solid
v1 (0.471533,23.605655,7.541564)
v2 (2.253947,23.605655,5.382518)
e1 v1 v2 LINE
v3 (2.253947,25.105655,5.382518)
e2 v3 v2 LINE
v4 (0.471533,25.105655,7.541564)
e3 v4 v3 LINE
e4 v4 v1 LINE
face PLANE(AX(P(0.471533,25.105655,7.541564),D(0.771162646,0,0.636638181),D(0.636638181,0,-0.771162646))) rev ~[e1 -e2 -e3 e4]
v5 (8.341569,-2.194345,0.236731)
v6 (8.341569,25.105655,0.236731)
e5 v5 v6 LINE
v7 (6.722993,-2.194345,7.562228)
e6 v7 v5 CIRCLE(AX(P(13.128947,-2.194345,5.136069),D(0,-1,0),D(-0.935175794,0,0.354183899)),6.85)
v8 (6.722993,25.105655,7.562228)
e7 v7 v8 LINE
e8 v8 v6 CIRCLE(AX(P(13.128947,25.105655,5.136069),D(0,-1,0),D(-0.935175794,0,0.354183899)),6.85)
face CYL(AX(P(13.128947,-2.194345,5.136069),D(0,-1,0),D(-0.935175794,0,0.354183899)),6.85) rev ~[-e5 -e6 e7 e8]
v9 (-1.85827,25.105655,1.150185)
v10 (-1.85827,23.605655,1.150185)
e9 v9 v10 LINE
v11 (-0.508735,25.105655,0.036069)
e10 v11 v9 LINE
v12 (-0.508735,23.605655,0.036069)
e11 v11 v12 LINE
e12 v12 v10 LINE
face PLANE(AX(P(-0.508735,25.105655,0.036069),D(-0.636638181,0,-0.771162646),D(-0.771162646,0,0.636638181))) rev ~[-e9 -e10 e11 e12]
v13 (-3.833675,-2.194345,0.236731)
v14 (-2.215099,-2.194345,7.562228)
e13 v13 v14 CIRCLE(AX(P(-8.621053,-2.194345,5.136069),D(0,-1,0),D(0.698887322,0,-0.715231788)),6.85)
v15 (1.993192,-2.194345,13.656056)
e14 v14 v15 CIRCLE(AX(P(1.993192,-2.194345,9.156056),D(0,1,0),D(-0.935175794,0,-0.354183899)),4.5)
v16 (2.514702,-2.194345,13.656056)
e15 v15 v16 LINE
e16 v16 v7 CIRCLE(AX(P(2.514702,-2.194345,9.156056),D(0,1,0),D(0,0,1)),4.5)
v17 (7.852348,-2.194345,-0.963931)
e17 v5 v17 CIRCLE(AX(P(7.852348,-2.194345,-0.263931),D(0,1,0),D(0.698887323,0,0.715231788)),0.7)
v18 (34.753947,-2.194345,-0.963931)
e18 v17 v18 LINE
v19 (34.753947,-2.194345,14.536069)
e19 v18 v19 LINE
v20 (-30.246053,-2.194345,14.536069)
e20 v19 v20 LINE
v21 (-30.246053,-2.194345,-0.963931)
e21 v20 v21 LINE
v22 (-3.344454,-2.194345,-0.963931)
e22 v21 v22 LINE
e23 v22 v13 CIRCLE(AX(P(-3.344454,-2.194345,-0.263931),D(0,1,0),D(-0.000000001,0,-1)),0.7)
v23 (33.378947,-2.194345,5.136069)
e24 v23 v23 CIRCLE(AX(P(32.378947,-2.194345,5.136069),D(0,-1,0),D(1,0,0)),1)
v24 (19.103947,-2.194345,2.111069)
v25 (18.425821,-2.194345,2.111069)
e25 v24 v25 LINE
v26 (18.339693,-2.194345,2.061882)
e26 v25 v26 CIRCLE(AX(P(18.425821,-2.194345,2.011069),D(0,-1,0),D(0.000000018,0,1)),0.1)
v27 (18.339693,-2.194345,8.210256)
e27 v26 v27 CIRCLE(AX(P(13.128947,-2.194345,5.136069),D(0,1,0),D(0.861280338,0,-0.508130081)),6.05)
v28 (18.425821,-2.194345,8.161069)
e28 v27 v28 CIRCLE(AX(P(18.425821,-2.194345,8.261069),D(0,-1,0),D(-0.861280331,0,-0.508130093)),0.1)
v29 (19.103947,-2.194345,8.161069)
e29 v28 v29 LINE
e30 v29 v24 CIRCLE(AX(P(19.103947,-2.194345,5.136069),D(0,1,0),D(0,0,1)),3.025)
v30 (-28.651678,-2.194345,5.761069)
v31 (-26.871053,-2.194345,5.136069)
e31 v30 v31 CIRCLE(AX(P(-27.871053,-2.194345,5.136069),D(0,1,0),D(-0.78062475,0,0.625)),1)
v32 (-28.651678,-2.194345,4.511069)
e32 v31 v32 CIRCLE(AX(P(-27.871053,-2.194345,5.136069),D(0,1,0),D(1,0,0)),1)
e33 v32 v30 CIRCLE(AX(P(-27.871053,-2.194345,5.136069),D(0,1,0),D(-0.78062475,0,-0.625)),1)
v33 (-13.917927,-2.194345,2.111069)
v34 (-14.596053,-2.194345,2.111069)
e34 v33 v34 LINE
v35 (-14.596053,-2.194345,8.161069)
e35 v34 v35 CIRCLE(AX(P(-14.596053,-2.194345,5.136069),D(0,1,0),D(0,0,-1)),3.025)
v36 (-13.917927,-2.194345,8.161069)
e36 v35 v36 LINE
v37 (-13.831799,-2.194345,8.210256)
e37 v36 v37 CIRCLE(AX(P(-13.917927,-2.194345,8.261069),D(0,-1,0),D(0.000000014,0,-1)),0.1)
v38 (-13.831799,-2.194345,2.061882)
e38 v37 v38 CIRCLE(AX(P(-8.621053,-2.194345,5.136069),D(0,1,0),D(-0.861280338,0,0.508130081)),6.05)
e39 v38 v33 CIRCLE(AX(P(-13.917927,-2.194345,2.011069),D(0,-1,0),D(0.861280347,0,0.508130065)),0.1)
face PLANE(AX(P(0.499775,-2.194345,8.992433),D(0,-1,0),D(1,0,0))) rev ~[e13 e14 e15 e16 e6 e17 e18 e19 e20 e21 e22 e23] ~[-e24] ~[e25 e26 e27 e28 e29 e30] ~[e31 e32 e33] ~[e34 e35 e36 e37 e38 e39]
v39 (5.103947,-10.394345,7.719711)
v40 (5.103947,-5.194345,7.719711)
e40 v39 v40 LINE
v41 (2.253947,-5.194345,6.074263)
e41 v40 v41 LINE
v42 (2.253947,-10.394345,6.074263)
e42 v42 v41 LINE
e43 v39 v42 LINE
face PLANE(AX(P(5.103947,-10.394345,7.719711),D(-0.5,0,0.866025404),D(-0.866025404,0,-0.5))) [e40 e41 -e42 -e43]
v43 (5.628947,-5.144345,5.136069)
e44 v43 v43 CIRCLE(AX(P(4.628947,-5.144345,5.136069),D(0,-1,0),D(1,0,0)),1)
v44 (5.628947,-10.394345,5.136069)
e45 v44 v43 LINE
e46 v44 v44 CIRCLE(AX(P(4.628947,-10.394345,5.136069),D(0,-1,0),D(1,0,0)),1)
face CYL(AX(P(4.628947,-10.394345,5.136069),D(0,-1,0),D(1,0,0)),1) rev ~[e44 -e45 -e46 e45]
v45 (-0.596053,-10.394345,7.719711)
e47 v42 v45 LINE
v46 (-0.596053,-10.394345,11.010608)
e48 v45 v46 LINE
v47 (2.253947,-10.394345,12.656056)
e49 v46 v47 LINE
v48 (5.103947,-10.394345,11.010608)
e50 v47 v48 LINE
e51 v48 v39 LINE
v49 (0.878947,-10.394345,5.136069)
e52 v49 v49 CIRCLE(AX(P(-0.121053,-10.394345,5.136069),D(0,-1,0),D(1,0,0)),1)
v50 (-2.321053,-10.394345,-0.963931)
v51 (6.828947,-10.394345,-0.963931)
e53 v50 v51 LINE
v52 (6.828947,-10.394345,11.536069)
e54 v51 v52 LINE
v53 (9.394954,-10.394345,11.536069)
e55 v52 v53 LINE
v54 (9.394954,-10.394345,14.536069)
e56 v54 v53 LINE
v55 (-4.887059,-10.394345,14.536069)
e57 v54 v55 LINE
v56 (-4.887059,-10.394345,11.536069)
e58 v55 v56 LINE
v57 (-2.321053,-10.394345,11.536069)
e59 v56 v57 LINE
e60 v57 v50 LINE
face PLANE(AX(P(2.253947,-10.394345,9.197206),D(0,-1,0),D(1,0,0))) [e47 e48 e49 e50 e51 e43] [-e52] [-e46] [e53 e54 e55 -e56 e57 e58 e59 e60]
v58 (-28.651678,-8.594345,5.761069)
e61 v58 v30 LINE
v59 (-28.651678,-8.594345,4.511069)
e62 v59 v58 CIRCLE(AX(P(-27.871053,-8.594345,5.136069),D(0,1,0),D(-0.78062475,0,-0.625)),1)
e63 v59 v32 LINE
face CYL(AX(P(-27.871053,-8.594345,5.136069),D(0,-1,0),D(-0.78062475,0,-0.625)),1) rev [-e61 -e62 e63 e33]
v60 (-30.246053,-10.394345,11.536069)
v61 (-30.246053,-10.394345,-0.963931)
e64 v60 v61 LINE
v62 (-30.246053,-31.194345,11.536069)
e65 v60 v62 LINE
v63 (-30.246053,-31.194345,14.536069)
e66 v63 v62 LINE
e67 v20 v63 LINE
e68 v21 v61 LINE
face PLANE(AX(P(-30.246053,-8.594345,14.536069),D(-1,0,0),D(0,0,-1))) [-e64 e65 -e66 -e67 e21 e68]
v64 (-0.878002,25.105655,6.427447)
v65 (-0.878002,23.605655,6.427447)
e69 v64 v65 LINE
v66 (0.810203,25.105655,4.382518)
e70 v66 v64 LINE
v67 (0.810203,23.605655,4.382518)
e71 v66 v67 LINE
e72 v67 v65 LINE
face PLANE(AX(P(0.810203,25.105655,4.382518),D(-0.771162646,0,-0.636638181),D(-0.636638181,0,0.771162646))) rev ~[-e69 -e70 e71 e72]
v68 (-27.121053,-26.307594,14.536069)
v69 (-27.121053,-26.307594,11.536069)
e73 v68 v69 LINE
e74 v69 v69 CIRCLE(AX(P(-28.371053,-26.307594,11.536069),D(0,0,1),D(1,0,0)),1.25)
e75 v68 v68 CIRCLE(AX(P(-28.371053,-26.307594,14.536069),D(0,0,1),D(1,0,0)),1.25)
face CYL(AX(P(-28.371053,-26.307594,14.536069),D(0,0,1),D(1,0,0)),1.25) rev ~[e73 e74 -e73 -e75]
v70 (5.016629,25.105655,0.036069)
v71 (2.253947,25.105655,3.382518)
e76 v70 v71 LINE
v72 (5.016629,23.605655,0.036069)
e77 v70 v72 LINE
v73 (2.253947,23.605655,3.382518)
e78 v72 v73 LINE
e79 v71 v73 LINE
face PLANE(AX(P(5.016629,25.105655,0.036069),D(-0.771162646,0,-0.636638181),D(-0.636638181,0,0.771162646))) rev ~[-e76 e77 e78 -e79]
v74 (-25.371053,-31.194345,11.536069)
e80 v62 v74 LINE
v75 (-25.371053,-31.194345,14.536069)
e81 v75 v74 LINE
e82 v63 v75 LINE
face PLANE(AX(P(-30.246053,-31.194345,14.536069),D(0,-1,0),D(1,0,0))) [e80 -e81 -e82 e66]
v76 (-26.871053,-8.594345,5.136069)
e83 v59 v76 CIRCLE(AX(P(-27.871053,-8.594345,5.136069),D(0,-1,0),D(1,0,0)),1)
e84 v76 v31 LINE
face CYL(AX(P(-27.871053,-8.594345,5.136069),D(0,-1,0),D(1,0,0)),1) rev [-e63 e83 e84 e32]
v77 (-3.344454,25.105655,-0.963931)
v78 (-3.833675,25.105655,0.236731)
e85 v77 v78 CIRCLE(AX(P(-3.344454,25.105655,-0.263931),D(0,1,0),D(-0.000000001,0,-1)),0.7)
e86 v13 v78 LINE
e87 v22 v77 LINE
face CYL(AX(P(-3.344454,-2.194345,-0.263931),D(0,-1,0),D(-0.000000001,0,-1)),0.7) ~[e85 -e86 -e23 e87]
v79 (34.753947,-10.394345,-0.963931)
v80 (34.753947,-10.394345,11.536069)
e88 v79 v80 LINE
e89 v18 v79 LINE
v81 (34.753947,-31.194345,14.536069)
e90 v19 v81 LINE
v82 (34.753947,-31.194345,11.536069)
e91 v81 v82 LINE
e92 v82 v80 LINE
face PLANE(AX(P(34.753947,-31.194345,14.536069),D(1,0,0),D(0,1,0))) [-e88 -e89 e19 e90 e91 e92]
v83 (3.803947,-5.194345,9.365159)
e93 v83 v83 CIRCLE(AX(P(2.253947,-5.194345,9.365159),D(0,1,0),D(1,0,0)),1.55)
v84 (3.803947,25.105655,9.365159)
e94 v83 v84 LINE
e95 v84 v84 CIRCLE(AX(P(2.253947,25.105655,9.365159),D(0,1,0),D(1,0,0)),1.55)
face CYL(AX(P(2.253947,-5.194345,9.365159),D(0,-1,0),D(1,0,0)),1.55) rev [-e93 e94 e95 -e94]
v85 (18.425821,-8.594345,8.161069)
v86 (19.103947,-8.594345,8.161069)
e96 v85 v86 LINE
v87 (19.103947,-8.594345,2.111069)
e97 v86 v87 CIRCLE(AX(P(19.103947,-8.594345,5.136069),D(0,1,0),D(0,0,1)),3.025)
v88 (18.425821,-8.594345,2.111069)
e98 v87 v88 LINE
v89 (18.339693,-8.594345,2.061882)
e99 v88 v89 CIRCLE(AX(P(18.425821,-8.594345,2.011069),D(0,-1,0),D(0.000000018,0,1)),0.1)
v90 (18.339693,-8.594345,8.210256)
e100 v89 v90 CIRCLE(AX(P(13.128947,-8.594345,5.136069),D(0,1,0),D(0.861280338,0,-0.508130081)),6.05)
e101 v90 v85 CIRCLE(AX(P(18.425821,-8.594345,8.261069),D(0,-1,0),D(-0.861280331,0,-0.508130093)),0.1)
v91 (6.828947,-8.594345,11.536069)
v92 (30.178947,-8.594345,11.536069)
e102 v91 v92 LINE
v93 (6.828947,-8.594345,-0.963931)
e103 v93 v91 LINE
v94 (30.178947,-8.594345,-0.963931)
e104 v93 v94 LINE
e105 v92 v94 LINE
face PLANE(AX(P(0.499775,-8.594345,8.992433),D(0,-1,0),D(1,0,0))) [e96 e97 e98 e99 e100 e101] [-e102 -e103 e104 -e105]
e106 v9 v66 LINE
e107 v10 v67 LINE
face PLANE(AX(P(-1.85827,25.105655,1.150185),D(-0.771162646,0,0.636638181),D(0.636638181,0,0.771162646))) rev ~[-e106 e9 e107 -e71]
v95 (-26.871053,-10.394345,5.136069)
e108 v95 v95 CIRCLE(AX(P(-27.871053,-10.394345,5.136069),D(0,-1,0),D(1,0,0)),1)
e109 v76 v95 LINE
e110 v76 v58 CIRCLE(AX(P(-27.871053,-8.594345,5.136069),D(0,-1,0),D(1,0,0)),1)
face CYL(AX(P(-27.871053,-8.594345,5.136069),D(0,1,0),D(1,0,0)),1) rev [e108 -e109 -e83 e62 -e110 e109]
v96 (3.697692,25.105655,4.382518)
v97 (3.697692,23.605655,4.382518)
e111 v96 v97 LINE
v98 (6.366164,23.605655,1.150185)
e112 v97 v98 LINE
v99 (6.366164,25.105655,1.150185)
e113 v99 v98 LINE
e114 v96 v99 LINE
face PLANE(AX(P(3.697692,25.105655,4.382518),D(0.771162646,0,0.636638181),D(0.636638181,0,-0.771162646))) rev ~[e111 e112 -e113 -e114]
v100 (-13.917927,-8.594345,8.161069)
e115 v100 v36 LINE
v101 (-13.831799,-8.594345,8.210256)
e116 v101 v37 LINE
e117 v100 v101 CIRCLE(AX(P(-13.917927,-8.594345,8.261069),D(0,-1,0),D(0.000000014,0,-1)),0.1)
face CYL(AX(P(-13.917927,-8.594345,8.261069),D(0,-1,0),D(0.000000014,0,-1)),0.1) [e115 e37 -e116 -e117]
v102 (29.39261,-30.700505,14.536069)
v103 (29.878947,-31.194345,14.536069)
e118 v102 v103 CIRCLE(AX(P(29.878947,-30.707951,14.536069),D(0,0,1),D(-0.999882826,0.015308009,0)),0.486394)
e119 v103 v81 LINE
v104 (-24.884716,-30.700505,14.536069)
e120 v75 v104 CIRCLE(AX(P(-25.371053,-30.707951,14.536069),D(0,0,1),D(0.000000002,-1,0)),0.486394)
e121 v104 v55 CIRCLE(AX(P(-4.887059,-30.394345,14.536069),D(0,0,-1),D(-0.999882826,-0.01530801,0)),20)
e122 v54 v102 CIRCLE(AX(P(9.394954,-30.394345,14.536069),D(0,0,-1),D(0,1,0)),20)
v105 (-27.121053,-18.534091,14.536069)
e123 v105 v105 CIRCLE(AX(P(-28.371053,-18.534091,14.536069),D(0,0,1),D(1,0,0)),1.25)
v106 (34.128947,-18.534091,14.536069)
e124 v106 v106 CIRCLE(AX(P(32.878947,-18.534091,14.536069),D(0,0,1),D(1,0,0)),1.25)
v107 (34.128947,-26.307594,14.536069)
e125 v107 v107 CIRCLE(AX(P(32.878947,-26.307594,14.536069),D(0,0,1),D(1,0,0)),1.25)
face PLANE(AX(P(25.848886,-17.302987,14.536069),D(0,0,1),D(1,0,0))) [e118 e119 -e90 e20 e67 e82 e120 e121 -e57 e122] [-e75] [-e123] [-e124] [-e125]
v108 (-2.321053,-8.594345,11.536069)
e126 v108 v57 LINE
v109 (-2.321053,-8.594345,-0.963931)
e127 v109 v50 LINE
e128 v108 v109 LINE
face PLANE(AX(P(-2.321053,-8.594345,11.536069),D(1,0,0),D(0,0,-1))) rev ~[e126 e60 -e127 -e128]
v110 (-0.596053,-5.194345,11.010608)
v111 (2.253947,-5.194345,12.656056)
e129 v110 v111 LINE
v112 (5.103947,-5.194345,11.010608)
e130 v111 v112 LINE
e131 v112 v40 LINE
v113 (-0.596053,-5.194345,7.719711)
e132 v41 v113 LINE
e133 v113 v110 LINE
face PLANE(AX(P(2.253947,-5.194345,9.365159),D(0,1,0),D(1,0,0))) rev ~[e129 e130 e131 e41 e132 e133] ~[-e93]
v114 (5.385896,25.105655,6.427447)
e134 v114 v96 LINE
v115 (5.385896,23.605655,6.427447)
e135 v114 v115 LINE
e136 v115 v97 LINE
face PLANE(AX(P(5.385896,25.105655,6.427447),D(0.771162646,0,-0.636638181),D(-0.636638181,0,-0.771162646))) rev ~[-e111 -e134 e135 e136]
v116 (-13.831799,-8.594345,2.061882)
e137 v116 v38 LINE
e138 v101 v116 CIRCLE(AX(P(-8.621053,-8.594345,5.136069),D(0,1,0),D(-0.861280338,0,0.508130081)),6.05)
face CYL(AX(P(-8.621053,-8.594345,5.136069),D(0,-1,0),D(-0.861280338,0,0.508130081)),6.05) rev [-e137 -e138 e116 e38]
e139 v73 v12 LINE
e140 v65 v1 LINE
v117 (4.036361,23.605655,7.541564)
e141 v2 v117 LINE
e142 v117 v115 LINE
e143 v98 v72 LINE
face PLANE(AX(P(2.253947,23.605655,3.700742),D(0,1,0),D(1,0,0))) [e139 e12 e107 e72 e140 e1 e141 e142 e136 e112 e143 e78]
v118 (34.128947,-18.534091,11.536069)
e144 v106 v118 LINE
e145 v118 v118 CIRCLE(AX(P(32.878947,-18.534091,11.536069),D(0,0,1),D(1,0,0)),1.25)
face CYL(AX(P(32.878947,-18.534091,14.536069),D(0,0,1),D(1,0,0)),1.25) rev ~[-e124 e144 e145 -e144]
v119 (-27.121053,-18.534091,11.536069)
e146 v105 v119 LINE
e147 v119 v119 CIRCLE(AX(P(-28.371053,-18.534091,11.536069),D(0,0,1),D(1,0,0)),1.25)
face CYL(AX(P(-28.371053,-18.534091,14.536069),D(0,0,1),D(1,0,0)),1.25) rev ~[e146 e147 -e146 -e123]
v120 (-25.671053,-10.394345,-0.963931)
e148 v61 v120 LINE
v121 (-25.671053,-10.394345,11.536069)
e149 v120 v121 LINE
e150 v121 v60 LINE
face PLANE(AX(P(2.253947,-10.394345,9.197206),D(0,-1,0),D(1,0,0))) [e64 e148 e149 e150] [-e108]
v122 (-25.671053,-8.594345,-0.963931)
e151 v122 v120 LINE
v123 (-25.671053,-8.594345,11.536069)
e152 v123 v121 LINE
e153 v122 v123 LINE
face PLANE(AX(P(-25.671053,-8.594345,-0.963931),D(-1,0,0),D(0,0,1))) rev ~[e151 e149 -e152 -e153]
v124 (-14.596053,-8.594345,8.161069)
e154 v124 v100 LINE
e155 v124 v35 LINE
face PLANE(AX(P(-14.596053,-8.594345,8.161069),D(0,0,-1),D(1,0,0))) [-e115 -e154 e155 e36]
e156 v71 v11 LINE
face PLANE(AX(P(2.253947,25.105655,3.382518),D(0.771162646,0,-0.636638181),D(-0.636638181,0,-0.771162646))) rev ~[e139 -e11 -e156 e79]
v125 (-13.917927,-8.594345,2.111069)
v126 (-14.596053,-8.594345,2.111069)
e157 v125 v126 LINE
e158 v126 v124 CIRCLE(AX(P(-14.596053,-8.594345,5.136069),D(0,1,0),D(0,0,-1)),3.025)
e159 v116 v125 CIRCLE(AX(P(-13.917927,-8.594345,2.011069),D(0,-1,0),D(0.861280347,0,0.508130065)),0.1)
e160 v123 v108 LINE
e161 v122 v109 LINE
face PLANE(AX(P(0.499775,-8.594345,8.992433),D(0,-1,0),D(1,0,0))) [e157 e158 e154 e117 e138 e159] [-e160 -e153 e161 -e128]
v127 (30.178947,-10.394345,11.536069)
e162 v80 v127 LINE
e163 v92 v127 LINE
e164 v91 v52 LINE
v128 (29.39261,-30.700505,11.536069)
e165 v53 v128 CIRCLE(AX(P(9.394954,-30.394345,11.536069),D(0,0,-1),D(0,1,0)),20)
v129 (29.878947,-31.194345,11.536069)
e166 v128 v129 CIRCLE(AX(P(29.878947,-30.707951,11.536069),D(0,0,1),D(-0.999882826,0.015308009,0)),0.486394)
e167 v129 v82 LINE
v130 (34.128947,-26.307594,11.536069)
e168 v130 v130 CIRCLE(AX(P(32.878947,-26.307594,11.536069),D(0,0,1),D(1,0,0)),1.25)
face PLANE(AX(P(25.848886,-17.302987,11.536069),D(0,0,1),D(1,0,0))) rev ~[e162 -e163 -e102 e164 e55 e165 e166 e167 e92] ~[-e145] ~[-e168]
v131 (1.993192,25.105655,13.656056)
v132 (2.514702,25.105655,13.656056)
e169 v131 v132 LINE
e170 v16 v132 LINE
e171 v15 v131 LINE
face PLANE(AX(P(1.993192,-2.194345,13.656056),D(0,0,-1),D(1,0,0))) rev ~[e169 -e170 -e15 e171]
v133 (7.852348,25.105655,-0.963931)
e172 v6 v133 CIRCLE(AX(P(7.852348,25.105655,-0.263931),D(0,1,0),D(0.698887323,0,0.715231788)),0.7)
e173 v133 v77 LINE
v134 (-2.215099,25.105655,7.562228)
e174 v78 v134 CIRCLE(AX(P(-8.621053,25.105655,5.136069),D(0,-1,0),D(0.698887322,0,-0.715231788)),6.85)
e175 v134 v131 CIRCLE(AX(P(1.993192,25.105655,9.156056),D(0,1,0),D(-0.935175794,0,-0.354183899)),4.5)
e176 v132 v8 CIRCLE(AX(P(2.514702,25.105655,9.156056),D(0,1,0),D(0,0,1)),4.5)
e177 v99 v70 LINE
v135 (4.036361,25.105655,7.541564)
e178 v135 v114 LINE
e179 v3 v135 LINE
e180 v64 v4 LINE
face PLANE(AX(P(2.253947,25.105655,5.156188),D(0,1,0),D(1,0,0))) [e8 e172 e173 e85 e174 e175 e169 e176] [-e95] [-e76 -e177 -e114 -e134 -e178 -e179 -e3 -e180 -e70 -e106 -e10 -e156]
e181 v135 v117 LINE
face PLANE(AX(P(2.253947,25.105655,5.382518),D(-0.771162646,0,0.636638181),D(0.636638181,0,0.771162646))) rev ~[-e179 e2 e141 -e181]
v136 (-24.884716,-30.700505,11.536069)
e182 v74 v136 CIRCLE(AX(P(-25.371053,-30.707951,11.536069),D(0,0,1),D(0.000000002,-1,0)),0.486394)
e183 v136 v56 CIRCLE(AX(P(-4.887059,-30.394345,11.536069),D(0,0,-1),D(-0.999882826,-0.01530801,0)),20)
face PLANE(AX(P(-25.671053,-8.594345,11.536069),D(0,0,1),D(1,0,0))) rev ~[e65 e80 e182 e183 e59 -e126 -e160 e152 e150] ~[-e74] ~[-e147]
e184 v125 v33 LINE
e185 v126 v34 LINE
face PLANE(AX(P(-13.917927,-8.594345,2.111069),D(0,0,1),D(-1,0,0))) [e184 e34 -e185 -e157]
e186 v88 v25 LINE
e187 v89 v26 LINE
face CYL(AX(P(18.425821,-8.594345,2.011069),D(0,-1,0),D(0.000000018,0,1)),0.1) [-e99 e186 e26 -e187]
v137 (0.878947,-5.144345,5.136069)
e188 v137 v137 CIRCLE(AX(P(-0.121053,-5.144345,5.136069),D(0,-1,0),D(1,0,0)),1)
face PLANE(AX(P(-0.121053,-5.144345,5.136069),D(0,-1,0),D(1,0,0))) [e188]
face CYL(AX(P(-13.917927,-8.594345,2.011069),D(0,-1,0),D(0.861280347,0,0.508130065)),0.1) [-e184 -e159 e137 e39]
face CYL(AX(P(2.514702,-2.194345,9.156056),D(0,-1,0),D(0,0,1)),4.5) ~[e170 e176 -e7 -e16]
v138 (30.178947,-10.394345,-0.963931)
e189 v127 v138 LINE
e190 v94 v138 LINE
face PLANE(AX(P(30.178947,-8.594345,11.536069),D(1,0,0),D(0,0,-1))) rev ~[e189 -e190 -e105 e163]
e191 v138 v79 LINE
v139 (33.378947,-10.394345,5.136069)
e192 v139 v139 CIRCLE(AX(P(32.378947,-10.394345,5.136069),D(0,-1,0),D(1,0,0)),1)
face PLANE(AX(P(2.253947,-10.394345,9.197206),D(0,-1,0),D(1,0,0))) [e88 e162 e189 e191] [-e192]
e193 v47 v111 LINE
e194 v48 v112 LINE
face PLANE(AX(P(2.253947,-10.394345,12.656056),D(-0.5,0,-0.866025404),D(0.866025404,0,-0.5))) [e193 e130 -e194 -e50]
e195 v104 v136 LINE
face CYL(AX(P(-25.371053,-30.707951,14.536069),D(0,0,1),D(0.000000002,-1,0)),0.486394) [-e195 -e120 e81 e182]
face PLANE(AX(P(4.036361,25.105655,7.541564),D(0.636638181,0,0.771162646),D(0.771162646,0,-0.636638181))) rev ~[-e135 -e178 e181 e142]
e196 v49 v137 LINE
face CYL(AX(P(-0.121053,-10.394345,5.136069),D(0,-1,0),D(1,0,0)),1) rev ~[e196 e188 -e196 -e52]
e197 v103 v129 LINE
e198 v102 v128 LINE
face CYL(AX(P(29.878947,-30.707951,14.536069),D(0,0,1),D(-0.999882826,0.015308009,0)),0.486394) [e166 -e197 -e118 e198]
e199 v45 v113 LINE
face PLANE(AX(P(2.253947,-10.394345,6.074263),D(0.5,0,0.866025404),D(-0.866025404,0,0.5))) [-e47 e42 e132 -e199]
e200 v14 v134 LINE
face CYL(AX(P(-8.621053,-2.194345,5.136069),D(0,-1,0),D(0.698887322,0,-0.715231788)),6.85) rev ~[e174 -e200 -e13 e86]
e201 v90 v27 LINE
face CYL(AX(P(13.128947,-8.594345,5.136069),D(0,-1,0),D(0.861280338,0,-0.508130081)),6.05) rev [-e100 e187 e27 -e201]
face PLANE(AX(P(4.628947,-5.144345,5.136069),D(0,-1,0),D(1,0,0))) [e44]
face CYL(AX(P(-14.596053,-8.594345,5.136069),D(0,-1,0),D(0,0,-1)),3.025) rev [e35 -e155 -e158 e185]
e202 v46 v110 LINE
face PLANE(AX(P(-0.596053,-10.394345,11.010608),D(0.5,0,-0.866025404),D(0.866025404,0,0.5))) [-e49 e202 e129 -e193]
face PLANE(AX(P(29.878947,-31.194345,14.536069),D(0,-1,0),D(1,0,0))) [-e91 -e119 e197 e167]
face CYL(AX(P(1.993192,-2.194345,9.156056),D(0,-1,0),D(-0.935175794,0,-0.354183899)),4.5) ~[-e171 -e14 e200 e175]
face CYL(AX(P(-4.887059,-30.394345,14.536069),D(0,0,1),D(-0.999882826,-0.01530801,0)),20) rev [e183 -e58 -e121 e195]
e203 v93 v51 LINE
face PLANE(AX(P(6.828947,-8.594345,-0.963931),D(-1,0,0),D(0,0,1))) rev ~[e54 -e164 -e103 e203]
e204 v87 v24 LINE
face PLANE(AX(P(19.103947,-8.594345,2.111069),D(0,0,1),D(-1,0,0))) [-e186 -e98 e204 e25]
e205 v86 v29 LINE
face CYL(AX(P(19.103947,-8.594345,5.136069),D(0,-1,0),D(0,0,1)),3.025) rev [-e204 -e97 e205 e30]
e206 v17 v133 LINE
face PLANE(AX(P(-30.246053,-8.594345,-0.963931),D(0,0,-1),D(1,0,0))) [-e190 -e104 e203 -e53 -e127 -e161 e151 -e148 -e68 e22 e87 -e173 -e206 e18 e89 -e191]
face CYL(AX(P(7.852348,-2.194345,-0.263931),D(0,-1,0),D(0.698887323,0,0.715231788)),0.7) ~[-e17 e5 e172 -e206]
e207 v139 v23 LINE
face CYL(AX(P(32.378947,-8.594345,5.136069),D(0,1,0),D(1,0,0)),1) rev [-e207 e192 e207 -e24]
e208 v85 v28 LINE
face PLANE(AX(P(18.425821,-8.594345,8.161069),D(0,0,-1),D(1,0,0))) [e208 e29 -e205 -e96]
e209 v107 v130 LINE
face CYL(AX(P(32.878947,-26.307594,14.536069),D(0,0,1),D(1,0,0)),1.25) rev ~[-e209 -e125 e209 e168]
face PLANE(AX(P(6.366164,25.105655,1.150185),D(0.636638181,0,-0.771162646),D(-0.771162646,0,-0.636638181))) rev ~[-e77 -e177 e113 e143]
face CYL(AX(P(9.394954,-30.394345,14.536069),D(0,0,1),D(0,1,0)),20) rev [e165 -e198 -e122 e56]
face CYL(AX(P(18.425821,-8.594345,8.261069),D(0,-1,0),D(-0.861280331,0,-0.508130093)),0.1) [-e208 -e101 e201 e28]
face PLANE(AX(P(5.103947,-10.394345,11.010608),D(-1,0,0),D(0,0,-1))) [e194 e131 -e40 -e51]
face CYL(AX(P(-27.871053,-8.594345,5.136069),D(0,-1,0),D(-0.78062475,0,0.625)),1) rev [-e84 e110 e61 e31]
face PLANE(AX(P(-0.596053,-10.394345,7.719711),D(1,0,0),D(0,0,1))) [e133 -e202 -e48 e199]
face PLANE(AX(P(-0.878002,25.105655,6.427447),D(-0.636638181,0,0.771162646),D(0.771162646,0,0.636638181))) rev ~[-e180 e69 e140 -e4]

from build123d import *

# Parameters (mm, degrees)
BOSS_EXTRUDE1_START = -1.8
SKETCH1_R           = 1
BOSS_EXTRUDE1_DEPTH = 1.8
BOSS_EXTRUDE2_START = -1.8
SKETCH1_5_R         = 1
SKETCH1_5_W         = 23.35
SKETCH1_5_H         = 12.5
SKETCH1_5_W_2       = 0.2
SKETCH1_5_H_2       = 11.7
BOSS_EXTRUDE2_DEPTH = 6.4
SKETCH1_6_R         = 1
CUT_EXTRUDE9_DEPTH  = 5.25
SKETCH6_R           = 1.25
BOSS_EXTRUDE4_DEPTH = 3
CUT_EXTRUDE6_START  = -8.2
SKETCH4_6_R         = 1.55
CUT_EXTRUDE6_DEPTH  = 5.2
BOSS_EXTRUDE3_DEPTH = 27.3
CUT_EXTRUDE7_START  = -3
SKETCH4_7_R         = 1.55
CUT_EXTRUDE7_DEPTH  = 30.3
CUT_EXTRUDE8_DEPTH  = 1.5


with BuildPart() as part:
    # Sketch1 → Boss-Extrude1 (new body)
    with BuildSketch(Plane.XZ.offset(10.394345176).offset(BOSS_EXTRUDE1_START)):
        Polygon((-30.246052812, 14.536068682), (-30.246052812, -0.963931318), (-25.671052812, -0.963931318), (-25.671052812, 11.536068682), (-2.321052812, 11.536068682), (-2.321052812, -0.963931318), (6.828947188, -0.963931318), (6.828947188, 11.536068682), (30.178947188, 11.536068682), (30.178947188, -0.963931318), (34.753947188, -0.963931318), (34.753947188, 14.536068682), align=None)
        with Locations((-27.871052812, 5.136068682)):
            Circle(SKETCH1_R, mode=Mode.SUBTRACT)
        with Locations((32.378947188, 5.136068682)):
            Circle(SKETCH1_R, mode=Mode.SUBTRACT)
    extrude(amount=BOSS_EXTRUDE1_DEPTH)

    # Sketch1_5 → Boss-Extrude2 (add)
    with BuildSketch(Plane.XZ.offset(10.394345176).offset(BOSS_EXTRUDE2_START)):
        with BuildLine():
            Line((-30.246052812, 14.536068682), (-30.246052812, -0.963931318))
            Line((-30.246052812, -0.963931318), (-25.671052812, -0.963931318))
            Line((-25.671052812, -0.963931318), (-25.671052812, -0.713931318))
            Line((-25.671052812, -0.713931318), (-29.746052812, -0.713931318))
            ThreePointArc((-29.746052812, -0.713931318), (-29.922829508, -0.640708013), (-29.996052812, -0.463931318))
            Line((-29.996052812, -0.463931318), (-29.996052812, 4.511068682))
            Line((-29.996052812, 4.511068682), (-28.651677562, 4.511068682))
            ThreePointArc((-28.651677562, 4.511068682), (-28.871052812, 5.136068682), (-28.651677562, 5.761068682))
            Line((-28.651677562, 5.761068682), (-29.996052812, 5.761068682))
            Line((-29.996052812, 5.761068682), (-29.996052812, 10.736068682))
            ThreePointArc((-29.996052812, 10.736068682), (-29.922829508, 10.912845377), (-29.746052812, 10.986068682))
            Line((-29.746052812, 10.986068682), (-25.671052812, 10.986068682))
            Line((-25.671052812, 10.986068682), (-25.671052812, 11.536068682))
            Line((-25.671052812, 11.536068682), (-2.321052812, 11.536068682))
            Line((-2.321052812, 11.536068682), (-2.321052812, -0.963931318))
            Line((-2.321052812, -0.963931318), (6.828947188, -0.963931318))
            Line((6.828947188, -0.963931318), (6.828947188, 11.536068682))
            Line((6.828947188, 11.536068682), (30.178947188, 11.536068682))
            Line((30.178947188, 11.536068682), (30.178947188, -0.963931318))
            Line((30.178947188, -0.963931318), (34.753947188, -0.963931318))
            Line((34.753947188, -0.963931318), (34.753947188, 14.536068682))
            Line((34.753947188, 14.536068682), (2.253947188, 14.536068682))
            Line((2.253947188, 14.536068682), (-30.246052812, 14.536068682))
        make_face()
        with Locations((-0.121052812, 5.136068682)):
            Circle(SKETCH1_5_R, mode=Mode.SUBTRACT)
        with Locations((4.628947188, 5.136068682)):
            Circle(SKETCH1_5_R, mode=Mode.SUBTRACT)
        with Locations((32.378947188, 5.136068682)):
            Circle(SKETCH1_5_R, mode=Mode.SUBTRACT)
        with Locations((18.503947188, 5.286068682)):
            Rectangle(SKETCH1_5_W, SKETCH1_5_H)
        with BuildLine():
            Line((19.103947188, 2.111068682), (18.425821266, 2.111068682))
            ThreePointArc((18.425821266, 2.111068682), (18.376229436, 2.097905601), (18.339693232, 2.06188169))
            ThreePointArc((18.339693232, 2.06188169), (7.078947188, 5.136068682), (18.339693232, 8.210255674))
            ThreePointArc((18.339693232, 8.210255674), (18.376229436, 8.174231764), (18.425821266, 8.161068682))
            Line((18.425821266, 8.161068682), (19.103947188, 8.161068682))
            ThreePointArc((19.103947188, 8.161068682), (22.128947188, 5.136068682), (19.103947188, 2.111068682))
        make_face(mode=Mode.SUBTRACT)
        Polygon((-25.671052812, -0.713931318), (-25.671052812, -0.963931318), (-2.321052812, -0.963931318), (-2.321052812, 11.536068682), (-25.671052812, 11.536068682), (-25.671052812, 10.986068682), (-25.471052812, 10.986068682), (-25.471052812, -0.713931318), align=None)
        with BuildLine():
            ThreePointArc((-13.831798857, 2.06188169), (-13.868335061, 2.097905601), (-13.917926891, 2.111068682))
            Line((-13.917926891, 2.111068682), (-14.596052812, 2.111068682))
            ThreePointArc((-14.596052812, 2.111068682), (-17.621052812, 5.136068682), (-14.596052812, 8.161068682))
            Line((-14.596052812, 8.161068682), (-13.917926891, 8.161068682))
            ThreePointArc((-13.917926891, 8.161068682), (-13.868335061, 8.174231764), (-13.831798857, 8.210255674))
            ThreePointArc((-13.831798857, 8.210255674), (-2.571052812, 5.136068682), (-13.831798857, 2.06188169))
        make_face(mode=Mode.SUBTRACT)
        with BuildLine():
            Line((-29.746052812, -0.713931318), (-25.671052812, -0.713931318))
            Line((-25.671052812, -0.713931318), (-25.671052812, 10.986068682))
            Line((-25.671052812, 10.986068682), (-29.746052812, 10.986068682))
            ThreePointArc((-29.746052812, 10.986068682), (-29.922829508, 10.912845377), (-29.996052812, 10.736068682))
            Line((-29.996052812, 10.736068682), (-29.996052812, 5.761068682))
            Line((-29.996052812, 5.761068682), (-28.651677562, 5.761068682))
            ThreePointArc((-28.651677562, 5.761068682), (-27.539861591, 6.079632339), (-26.871052812, 5.136068682))
            ThreePointArc((-26.871052812, 5.136068682), (-27.539861591, 4.192505025), (-28.651677562, 4.511068682))
            Line((-28.651677562, 4.511068682), (-29.996052812, 4.511068682))
            Line((-29.996052812, 4.511068682), (-29.996052812, -0.463931318))
            ThreePointArc((-29.996052812, -0.463931318), (-29.922829508, -0.640708013), (-29.746052812, -0.713931318))
        make_face()
        with Locations((-25.571052812, 5.136068682)):
            Rectangle(SKETCH1_5_W_2, SKETCH1_5_H_2)
        with Locations((4.628947188, 5.136068682)):
            Circle(SKETCH1_5_R)
        with Locations((-0.121052812, 5.136068682)):
            Circle(SKETCH1_5_R)
    extrude(amount=-BOSS_EXTRUDE2_DEPTH)

    # Sketch1_6 → Cut-Extrude9 (cut)
    with BuildSketch(Plane.XZ.offset(10.394345176)):
        with Locations((4.628947188, 5.136068682)):
            Circle(SKETCH1_6_R)
        with Locations((-0.121052812, 5.136068682)):
            Circle(SKETCH1_6_R)
    extrude(amount=-CUT_EXTRUDE9_DEPTH, mode=Mode.SUBTRACT)

    # Sketch6 → Boss-Extrude4 (add)
    with BuildSketch(Plane.XY.offset(14.536068682)):
        with BuildLine():
            Line((34.753947188, -10.394345176), (9.394953593, -10.394345176))
            ThreePointArc((9.394953593, -10.394345176), (23.644922083, -16.360870979), (29.392610104, -30.700505374))
            ThreePointArc((29.392610104, -30.700505374), (29.532392174, -31.049241035), (29.878947188, -31.194345176))
            Line((29.878947188, -31.194345176), (34.753947188, -31.194345176))
            Line((34.753947188, -31.194345176), (34.753947188, -10.394345176))
        make_face()
        with Locations((32.878947188, -26.30759383)):
            Circle(SKETCH6_R, mode=Mode.SUBTRACT)
        with Locations((32.878947188, -18.534091138)):
            Circle(SKETCH6_R, mode=Mode.SUBTRACT)
        with BuildLine():
            Line((-4.887059217, -10.394345176), (-30.246052812, -10.394345176))
            Line((-30.246052812, -10.394345176), (-30.246052812, -16.729871547))
            Line((-30.246052812, -16.729871547), (-28.371052812, -15.647339792))
            Line((-28.371052812, -15.647339792), (-25.871052812, -17.090715465))
            Line((-25.871052812, -17.090715465), (-25.871052812, -19.977466811))
            Line((-25.871052812, -19.977466811), (-28.371052812, -21.420842484))
            Line((-28.371052812, -21.420842484), (-30.246052812, -20.338310729))
            Line((-30.246052812, -20.338310729), (-30.246052812, -24.503374239))
            Line((-30.246052812, -24.503374239), (-28.371052812, -23.420842484))
            Line((-28.371052812, -23.420842484), (-25.871052812, -24.864218157))
            Line((-25.871052812, -24.864218157), (-25.871052812, -27.750969503))
            Line((-25.871052812, -27.750969503), (-28.371052812, -29.194345176))
            Line((-28.371052812, -29.194345176), (-30.246052812, -28.111813421))
            Line((-30.246052812, -28.111813421), (-30.246052812, -31.194345176))
            Line((-30.246052812, -31.194345176), (-25.371052812, -31.194345176))
            ThreePointArc((-25.371052812, -31.194345176), (-25.024497799, -31.049241035), (-24.884715729, -30.700505374))
            ThreePointArc((-24.884715729, -30.700505374), (-19.137027708, -16.360870979), (-4.887059217, -10.394345176))
        make_face()
        Polygon((-28.371052812, -23.420842484), (-30.246052812, -24.503374239), (-30.246052812, -28.111813421), (-28.371052812, -29.194345176), (-25.871052812, -27.750969503), (-25.871052812, -24.864218157), align=None)
        with Locations((-28.371052812, -26.30759383)):
            Circle(SKETCH6_R, mode=Mode.SUBTRACT)
        Polygon((-28.371052812, -15.647339792), (-30.246052812, -16.729871547), (-30.246052812, -20.338310729), (-28.371052812, -21.420842484), (-25.871052812, -19.977466811), (-25.871052812, -17.090715465), align=None)
        with Locations((-28.371052812, -18.534091138)):
            Circle(SKETCH6_R, mode=Mode.SUBTRACT)
    extrude(amount=-BOSS_EXTRUDE4_DEPTH)

    # Sketch4_6 → Cut-Extrude6 (cut)
    with BuildSketch(Plane(origin=(0, -2.194345176, 0), x_dir=(1, 0, 0), z_dir=(0, 1, 0)).offset(CUT_EXTRUDE6_START)):
        Polygon((5.103947188, -11.010607671), (5.103947188, -7.719711137), (2.253947188, -6.07426287), (-0.596052812, -7.719711137), (-0.596052812, -11.010607671), (2.253947188, -12.656055938), align=None)
        with Locations((2.253947188, -9.365159404)):
            Circle(SKETCH4_6_R, mode=Mode.SUBTRACT)
        with Locations((2.253947188, -9.365159404)):
            Circle(SKETCH4_6_R)
    extrude(amount=CUT_EXTRUDE6_DEPTH, mode=Mode.SUBTRACT)

    # Sketch4 → Boss-Extrude3 (add)
    with BuildSketch(Plane(origin=(0, -2.194345176, 0), x_dir=(1, 0, 0), z_dir=(0, 1, 0))):
        with BuildLine():
            Line((1.993192449, -13.656055938), (2.514701927, -13.656055938))
            ThreePointArc((2.514701927, -13.656055938), (6.217553798, -11.71318089), (6.722992999, -7.562228392))
            ThreePointArc((6.722992999, -7.562228392), (6.440270151, -3.658198764), (8.34156903, -0.236730934))
            ThreePointArc((8.34156903, -0.236730934), (8.500600778, 0.528068047), (7.852347904, 0.963931318))
            Line((7.852347904, 0.963931318), (-3.344453529, 0.963931318))
            ThreePointArc((-3.344453529, 0.963931318), (-3.992706402, 0.528068047), (-3.833674654, -0.236730934))
            ThreePointArc((-3.833674654, -0.236730934), (-1.932375775, -3.658198764), (-2.215098624, -7.562228392))
            ThreePointArc((-2.215098624, -7.562228392), (-1.709659423, -11.71318089), (1.993192449, -13.656055938))
        make_face()
    extrude(amount=BOSS_EXTRUDE3_DEPTH)

    # Sketch4_7 → Cut-Extrude7 (cut)
    with BuildSketch(Plane(origin=(0, -2.194345176, 0), x_dir=(1, 0, 0), z_dir=(0, 1, 0)).offset(CUT_EXTRUDE7_START)):
        with Locations((2.253947188, -9.365159404)):
            Circle(SKETCH4_7_R)
    extrude(amount=CUT_EXTRUDE7_DEPTH, mode=Mode.SUBTRACT)

    # Sketch5 → Cut-Extrude8 (cut)
    with BuildSketch(Plane(origin=(0, 25.105654824, 0), x_dir=(1, 0, 0), z_dir=(0, 1, 0))):
        Polygon((5.385896038, -6.427447361), (3.697691675, -4.382517944), (6.366164089, -1.150185498), (5.016629458, -0.036068682), (2.253947188, -3.382517944), (-0.508735082, -0.036068682), (-1.858269713, -1.150185498), (0.8102027, -4.382517944), (-0.878001663, -6.427447361), (0.471532968, -7.541564177), (2.253947188, -5.382517944), (4.036361407, -7.541564177), align=None)
    extrude(amount=-CUT_EXTRUDE8_DEPTH, mode=Mode.SUBTRACT)


solid = part.part
